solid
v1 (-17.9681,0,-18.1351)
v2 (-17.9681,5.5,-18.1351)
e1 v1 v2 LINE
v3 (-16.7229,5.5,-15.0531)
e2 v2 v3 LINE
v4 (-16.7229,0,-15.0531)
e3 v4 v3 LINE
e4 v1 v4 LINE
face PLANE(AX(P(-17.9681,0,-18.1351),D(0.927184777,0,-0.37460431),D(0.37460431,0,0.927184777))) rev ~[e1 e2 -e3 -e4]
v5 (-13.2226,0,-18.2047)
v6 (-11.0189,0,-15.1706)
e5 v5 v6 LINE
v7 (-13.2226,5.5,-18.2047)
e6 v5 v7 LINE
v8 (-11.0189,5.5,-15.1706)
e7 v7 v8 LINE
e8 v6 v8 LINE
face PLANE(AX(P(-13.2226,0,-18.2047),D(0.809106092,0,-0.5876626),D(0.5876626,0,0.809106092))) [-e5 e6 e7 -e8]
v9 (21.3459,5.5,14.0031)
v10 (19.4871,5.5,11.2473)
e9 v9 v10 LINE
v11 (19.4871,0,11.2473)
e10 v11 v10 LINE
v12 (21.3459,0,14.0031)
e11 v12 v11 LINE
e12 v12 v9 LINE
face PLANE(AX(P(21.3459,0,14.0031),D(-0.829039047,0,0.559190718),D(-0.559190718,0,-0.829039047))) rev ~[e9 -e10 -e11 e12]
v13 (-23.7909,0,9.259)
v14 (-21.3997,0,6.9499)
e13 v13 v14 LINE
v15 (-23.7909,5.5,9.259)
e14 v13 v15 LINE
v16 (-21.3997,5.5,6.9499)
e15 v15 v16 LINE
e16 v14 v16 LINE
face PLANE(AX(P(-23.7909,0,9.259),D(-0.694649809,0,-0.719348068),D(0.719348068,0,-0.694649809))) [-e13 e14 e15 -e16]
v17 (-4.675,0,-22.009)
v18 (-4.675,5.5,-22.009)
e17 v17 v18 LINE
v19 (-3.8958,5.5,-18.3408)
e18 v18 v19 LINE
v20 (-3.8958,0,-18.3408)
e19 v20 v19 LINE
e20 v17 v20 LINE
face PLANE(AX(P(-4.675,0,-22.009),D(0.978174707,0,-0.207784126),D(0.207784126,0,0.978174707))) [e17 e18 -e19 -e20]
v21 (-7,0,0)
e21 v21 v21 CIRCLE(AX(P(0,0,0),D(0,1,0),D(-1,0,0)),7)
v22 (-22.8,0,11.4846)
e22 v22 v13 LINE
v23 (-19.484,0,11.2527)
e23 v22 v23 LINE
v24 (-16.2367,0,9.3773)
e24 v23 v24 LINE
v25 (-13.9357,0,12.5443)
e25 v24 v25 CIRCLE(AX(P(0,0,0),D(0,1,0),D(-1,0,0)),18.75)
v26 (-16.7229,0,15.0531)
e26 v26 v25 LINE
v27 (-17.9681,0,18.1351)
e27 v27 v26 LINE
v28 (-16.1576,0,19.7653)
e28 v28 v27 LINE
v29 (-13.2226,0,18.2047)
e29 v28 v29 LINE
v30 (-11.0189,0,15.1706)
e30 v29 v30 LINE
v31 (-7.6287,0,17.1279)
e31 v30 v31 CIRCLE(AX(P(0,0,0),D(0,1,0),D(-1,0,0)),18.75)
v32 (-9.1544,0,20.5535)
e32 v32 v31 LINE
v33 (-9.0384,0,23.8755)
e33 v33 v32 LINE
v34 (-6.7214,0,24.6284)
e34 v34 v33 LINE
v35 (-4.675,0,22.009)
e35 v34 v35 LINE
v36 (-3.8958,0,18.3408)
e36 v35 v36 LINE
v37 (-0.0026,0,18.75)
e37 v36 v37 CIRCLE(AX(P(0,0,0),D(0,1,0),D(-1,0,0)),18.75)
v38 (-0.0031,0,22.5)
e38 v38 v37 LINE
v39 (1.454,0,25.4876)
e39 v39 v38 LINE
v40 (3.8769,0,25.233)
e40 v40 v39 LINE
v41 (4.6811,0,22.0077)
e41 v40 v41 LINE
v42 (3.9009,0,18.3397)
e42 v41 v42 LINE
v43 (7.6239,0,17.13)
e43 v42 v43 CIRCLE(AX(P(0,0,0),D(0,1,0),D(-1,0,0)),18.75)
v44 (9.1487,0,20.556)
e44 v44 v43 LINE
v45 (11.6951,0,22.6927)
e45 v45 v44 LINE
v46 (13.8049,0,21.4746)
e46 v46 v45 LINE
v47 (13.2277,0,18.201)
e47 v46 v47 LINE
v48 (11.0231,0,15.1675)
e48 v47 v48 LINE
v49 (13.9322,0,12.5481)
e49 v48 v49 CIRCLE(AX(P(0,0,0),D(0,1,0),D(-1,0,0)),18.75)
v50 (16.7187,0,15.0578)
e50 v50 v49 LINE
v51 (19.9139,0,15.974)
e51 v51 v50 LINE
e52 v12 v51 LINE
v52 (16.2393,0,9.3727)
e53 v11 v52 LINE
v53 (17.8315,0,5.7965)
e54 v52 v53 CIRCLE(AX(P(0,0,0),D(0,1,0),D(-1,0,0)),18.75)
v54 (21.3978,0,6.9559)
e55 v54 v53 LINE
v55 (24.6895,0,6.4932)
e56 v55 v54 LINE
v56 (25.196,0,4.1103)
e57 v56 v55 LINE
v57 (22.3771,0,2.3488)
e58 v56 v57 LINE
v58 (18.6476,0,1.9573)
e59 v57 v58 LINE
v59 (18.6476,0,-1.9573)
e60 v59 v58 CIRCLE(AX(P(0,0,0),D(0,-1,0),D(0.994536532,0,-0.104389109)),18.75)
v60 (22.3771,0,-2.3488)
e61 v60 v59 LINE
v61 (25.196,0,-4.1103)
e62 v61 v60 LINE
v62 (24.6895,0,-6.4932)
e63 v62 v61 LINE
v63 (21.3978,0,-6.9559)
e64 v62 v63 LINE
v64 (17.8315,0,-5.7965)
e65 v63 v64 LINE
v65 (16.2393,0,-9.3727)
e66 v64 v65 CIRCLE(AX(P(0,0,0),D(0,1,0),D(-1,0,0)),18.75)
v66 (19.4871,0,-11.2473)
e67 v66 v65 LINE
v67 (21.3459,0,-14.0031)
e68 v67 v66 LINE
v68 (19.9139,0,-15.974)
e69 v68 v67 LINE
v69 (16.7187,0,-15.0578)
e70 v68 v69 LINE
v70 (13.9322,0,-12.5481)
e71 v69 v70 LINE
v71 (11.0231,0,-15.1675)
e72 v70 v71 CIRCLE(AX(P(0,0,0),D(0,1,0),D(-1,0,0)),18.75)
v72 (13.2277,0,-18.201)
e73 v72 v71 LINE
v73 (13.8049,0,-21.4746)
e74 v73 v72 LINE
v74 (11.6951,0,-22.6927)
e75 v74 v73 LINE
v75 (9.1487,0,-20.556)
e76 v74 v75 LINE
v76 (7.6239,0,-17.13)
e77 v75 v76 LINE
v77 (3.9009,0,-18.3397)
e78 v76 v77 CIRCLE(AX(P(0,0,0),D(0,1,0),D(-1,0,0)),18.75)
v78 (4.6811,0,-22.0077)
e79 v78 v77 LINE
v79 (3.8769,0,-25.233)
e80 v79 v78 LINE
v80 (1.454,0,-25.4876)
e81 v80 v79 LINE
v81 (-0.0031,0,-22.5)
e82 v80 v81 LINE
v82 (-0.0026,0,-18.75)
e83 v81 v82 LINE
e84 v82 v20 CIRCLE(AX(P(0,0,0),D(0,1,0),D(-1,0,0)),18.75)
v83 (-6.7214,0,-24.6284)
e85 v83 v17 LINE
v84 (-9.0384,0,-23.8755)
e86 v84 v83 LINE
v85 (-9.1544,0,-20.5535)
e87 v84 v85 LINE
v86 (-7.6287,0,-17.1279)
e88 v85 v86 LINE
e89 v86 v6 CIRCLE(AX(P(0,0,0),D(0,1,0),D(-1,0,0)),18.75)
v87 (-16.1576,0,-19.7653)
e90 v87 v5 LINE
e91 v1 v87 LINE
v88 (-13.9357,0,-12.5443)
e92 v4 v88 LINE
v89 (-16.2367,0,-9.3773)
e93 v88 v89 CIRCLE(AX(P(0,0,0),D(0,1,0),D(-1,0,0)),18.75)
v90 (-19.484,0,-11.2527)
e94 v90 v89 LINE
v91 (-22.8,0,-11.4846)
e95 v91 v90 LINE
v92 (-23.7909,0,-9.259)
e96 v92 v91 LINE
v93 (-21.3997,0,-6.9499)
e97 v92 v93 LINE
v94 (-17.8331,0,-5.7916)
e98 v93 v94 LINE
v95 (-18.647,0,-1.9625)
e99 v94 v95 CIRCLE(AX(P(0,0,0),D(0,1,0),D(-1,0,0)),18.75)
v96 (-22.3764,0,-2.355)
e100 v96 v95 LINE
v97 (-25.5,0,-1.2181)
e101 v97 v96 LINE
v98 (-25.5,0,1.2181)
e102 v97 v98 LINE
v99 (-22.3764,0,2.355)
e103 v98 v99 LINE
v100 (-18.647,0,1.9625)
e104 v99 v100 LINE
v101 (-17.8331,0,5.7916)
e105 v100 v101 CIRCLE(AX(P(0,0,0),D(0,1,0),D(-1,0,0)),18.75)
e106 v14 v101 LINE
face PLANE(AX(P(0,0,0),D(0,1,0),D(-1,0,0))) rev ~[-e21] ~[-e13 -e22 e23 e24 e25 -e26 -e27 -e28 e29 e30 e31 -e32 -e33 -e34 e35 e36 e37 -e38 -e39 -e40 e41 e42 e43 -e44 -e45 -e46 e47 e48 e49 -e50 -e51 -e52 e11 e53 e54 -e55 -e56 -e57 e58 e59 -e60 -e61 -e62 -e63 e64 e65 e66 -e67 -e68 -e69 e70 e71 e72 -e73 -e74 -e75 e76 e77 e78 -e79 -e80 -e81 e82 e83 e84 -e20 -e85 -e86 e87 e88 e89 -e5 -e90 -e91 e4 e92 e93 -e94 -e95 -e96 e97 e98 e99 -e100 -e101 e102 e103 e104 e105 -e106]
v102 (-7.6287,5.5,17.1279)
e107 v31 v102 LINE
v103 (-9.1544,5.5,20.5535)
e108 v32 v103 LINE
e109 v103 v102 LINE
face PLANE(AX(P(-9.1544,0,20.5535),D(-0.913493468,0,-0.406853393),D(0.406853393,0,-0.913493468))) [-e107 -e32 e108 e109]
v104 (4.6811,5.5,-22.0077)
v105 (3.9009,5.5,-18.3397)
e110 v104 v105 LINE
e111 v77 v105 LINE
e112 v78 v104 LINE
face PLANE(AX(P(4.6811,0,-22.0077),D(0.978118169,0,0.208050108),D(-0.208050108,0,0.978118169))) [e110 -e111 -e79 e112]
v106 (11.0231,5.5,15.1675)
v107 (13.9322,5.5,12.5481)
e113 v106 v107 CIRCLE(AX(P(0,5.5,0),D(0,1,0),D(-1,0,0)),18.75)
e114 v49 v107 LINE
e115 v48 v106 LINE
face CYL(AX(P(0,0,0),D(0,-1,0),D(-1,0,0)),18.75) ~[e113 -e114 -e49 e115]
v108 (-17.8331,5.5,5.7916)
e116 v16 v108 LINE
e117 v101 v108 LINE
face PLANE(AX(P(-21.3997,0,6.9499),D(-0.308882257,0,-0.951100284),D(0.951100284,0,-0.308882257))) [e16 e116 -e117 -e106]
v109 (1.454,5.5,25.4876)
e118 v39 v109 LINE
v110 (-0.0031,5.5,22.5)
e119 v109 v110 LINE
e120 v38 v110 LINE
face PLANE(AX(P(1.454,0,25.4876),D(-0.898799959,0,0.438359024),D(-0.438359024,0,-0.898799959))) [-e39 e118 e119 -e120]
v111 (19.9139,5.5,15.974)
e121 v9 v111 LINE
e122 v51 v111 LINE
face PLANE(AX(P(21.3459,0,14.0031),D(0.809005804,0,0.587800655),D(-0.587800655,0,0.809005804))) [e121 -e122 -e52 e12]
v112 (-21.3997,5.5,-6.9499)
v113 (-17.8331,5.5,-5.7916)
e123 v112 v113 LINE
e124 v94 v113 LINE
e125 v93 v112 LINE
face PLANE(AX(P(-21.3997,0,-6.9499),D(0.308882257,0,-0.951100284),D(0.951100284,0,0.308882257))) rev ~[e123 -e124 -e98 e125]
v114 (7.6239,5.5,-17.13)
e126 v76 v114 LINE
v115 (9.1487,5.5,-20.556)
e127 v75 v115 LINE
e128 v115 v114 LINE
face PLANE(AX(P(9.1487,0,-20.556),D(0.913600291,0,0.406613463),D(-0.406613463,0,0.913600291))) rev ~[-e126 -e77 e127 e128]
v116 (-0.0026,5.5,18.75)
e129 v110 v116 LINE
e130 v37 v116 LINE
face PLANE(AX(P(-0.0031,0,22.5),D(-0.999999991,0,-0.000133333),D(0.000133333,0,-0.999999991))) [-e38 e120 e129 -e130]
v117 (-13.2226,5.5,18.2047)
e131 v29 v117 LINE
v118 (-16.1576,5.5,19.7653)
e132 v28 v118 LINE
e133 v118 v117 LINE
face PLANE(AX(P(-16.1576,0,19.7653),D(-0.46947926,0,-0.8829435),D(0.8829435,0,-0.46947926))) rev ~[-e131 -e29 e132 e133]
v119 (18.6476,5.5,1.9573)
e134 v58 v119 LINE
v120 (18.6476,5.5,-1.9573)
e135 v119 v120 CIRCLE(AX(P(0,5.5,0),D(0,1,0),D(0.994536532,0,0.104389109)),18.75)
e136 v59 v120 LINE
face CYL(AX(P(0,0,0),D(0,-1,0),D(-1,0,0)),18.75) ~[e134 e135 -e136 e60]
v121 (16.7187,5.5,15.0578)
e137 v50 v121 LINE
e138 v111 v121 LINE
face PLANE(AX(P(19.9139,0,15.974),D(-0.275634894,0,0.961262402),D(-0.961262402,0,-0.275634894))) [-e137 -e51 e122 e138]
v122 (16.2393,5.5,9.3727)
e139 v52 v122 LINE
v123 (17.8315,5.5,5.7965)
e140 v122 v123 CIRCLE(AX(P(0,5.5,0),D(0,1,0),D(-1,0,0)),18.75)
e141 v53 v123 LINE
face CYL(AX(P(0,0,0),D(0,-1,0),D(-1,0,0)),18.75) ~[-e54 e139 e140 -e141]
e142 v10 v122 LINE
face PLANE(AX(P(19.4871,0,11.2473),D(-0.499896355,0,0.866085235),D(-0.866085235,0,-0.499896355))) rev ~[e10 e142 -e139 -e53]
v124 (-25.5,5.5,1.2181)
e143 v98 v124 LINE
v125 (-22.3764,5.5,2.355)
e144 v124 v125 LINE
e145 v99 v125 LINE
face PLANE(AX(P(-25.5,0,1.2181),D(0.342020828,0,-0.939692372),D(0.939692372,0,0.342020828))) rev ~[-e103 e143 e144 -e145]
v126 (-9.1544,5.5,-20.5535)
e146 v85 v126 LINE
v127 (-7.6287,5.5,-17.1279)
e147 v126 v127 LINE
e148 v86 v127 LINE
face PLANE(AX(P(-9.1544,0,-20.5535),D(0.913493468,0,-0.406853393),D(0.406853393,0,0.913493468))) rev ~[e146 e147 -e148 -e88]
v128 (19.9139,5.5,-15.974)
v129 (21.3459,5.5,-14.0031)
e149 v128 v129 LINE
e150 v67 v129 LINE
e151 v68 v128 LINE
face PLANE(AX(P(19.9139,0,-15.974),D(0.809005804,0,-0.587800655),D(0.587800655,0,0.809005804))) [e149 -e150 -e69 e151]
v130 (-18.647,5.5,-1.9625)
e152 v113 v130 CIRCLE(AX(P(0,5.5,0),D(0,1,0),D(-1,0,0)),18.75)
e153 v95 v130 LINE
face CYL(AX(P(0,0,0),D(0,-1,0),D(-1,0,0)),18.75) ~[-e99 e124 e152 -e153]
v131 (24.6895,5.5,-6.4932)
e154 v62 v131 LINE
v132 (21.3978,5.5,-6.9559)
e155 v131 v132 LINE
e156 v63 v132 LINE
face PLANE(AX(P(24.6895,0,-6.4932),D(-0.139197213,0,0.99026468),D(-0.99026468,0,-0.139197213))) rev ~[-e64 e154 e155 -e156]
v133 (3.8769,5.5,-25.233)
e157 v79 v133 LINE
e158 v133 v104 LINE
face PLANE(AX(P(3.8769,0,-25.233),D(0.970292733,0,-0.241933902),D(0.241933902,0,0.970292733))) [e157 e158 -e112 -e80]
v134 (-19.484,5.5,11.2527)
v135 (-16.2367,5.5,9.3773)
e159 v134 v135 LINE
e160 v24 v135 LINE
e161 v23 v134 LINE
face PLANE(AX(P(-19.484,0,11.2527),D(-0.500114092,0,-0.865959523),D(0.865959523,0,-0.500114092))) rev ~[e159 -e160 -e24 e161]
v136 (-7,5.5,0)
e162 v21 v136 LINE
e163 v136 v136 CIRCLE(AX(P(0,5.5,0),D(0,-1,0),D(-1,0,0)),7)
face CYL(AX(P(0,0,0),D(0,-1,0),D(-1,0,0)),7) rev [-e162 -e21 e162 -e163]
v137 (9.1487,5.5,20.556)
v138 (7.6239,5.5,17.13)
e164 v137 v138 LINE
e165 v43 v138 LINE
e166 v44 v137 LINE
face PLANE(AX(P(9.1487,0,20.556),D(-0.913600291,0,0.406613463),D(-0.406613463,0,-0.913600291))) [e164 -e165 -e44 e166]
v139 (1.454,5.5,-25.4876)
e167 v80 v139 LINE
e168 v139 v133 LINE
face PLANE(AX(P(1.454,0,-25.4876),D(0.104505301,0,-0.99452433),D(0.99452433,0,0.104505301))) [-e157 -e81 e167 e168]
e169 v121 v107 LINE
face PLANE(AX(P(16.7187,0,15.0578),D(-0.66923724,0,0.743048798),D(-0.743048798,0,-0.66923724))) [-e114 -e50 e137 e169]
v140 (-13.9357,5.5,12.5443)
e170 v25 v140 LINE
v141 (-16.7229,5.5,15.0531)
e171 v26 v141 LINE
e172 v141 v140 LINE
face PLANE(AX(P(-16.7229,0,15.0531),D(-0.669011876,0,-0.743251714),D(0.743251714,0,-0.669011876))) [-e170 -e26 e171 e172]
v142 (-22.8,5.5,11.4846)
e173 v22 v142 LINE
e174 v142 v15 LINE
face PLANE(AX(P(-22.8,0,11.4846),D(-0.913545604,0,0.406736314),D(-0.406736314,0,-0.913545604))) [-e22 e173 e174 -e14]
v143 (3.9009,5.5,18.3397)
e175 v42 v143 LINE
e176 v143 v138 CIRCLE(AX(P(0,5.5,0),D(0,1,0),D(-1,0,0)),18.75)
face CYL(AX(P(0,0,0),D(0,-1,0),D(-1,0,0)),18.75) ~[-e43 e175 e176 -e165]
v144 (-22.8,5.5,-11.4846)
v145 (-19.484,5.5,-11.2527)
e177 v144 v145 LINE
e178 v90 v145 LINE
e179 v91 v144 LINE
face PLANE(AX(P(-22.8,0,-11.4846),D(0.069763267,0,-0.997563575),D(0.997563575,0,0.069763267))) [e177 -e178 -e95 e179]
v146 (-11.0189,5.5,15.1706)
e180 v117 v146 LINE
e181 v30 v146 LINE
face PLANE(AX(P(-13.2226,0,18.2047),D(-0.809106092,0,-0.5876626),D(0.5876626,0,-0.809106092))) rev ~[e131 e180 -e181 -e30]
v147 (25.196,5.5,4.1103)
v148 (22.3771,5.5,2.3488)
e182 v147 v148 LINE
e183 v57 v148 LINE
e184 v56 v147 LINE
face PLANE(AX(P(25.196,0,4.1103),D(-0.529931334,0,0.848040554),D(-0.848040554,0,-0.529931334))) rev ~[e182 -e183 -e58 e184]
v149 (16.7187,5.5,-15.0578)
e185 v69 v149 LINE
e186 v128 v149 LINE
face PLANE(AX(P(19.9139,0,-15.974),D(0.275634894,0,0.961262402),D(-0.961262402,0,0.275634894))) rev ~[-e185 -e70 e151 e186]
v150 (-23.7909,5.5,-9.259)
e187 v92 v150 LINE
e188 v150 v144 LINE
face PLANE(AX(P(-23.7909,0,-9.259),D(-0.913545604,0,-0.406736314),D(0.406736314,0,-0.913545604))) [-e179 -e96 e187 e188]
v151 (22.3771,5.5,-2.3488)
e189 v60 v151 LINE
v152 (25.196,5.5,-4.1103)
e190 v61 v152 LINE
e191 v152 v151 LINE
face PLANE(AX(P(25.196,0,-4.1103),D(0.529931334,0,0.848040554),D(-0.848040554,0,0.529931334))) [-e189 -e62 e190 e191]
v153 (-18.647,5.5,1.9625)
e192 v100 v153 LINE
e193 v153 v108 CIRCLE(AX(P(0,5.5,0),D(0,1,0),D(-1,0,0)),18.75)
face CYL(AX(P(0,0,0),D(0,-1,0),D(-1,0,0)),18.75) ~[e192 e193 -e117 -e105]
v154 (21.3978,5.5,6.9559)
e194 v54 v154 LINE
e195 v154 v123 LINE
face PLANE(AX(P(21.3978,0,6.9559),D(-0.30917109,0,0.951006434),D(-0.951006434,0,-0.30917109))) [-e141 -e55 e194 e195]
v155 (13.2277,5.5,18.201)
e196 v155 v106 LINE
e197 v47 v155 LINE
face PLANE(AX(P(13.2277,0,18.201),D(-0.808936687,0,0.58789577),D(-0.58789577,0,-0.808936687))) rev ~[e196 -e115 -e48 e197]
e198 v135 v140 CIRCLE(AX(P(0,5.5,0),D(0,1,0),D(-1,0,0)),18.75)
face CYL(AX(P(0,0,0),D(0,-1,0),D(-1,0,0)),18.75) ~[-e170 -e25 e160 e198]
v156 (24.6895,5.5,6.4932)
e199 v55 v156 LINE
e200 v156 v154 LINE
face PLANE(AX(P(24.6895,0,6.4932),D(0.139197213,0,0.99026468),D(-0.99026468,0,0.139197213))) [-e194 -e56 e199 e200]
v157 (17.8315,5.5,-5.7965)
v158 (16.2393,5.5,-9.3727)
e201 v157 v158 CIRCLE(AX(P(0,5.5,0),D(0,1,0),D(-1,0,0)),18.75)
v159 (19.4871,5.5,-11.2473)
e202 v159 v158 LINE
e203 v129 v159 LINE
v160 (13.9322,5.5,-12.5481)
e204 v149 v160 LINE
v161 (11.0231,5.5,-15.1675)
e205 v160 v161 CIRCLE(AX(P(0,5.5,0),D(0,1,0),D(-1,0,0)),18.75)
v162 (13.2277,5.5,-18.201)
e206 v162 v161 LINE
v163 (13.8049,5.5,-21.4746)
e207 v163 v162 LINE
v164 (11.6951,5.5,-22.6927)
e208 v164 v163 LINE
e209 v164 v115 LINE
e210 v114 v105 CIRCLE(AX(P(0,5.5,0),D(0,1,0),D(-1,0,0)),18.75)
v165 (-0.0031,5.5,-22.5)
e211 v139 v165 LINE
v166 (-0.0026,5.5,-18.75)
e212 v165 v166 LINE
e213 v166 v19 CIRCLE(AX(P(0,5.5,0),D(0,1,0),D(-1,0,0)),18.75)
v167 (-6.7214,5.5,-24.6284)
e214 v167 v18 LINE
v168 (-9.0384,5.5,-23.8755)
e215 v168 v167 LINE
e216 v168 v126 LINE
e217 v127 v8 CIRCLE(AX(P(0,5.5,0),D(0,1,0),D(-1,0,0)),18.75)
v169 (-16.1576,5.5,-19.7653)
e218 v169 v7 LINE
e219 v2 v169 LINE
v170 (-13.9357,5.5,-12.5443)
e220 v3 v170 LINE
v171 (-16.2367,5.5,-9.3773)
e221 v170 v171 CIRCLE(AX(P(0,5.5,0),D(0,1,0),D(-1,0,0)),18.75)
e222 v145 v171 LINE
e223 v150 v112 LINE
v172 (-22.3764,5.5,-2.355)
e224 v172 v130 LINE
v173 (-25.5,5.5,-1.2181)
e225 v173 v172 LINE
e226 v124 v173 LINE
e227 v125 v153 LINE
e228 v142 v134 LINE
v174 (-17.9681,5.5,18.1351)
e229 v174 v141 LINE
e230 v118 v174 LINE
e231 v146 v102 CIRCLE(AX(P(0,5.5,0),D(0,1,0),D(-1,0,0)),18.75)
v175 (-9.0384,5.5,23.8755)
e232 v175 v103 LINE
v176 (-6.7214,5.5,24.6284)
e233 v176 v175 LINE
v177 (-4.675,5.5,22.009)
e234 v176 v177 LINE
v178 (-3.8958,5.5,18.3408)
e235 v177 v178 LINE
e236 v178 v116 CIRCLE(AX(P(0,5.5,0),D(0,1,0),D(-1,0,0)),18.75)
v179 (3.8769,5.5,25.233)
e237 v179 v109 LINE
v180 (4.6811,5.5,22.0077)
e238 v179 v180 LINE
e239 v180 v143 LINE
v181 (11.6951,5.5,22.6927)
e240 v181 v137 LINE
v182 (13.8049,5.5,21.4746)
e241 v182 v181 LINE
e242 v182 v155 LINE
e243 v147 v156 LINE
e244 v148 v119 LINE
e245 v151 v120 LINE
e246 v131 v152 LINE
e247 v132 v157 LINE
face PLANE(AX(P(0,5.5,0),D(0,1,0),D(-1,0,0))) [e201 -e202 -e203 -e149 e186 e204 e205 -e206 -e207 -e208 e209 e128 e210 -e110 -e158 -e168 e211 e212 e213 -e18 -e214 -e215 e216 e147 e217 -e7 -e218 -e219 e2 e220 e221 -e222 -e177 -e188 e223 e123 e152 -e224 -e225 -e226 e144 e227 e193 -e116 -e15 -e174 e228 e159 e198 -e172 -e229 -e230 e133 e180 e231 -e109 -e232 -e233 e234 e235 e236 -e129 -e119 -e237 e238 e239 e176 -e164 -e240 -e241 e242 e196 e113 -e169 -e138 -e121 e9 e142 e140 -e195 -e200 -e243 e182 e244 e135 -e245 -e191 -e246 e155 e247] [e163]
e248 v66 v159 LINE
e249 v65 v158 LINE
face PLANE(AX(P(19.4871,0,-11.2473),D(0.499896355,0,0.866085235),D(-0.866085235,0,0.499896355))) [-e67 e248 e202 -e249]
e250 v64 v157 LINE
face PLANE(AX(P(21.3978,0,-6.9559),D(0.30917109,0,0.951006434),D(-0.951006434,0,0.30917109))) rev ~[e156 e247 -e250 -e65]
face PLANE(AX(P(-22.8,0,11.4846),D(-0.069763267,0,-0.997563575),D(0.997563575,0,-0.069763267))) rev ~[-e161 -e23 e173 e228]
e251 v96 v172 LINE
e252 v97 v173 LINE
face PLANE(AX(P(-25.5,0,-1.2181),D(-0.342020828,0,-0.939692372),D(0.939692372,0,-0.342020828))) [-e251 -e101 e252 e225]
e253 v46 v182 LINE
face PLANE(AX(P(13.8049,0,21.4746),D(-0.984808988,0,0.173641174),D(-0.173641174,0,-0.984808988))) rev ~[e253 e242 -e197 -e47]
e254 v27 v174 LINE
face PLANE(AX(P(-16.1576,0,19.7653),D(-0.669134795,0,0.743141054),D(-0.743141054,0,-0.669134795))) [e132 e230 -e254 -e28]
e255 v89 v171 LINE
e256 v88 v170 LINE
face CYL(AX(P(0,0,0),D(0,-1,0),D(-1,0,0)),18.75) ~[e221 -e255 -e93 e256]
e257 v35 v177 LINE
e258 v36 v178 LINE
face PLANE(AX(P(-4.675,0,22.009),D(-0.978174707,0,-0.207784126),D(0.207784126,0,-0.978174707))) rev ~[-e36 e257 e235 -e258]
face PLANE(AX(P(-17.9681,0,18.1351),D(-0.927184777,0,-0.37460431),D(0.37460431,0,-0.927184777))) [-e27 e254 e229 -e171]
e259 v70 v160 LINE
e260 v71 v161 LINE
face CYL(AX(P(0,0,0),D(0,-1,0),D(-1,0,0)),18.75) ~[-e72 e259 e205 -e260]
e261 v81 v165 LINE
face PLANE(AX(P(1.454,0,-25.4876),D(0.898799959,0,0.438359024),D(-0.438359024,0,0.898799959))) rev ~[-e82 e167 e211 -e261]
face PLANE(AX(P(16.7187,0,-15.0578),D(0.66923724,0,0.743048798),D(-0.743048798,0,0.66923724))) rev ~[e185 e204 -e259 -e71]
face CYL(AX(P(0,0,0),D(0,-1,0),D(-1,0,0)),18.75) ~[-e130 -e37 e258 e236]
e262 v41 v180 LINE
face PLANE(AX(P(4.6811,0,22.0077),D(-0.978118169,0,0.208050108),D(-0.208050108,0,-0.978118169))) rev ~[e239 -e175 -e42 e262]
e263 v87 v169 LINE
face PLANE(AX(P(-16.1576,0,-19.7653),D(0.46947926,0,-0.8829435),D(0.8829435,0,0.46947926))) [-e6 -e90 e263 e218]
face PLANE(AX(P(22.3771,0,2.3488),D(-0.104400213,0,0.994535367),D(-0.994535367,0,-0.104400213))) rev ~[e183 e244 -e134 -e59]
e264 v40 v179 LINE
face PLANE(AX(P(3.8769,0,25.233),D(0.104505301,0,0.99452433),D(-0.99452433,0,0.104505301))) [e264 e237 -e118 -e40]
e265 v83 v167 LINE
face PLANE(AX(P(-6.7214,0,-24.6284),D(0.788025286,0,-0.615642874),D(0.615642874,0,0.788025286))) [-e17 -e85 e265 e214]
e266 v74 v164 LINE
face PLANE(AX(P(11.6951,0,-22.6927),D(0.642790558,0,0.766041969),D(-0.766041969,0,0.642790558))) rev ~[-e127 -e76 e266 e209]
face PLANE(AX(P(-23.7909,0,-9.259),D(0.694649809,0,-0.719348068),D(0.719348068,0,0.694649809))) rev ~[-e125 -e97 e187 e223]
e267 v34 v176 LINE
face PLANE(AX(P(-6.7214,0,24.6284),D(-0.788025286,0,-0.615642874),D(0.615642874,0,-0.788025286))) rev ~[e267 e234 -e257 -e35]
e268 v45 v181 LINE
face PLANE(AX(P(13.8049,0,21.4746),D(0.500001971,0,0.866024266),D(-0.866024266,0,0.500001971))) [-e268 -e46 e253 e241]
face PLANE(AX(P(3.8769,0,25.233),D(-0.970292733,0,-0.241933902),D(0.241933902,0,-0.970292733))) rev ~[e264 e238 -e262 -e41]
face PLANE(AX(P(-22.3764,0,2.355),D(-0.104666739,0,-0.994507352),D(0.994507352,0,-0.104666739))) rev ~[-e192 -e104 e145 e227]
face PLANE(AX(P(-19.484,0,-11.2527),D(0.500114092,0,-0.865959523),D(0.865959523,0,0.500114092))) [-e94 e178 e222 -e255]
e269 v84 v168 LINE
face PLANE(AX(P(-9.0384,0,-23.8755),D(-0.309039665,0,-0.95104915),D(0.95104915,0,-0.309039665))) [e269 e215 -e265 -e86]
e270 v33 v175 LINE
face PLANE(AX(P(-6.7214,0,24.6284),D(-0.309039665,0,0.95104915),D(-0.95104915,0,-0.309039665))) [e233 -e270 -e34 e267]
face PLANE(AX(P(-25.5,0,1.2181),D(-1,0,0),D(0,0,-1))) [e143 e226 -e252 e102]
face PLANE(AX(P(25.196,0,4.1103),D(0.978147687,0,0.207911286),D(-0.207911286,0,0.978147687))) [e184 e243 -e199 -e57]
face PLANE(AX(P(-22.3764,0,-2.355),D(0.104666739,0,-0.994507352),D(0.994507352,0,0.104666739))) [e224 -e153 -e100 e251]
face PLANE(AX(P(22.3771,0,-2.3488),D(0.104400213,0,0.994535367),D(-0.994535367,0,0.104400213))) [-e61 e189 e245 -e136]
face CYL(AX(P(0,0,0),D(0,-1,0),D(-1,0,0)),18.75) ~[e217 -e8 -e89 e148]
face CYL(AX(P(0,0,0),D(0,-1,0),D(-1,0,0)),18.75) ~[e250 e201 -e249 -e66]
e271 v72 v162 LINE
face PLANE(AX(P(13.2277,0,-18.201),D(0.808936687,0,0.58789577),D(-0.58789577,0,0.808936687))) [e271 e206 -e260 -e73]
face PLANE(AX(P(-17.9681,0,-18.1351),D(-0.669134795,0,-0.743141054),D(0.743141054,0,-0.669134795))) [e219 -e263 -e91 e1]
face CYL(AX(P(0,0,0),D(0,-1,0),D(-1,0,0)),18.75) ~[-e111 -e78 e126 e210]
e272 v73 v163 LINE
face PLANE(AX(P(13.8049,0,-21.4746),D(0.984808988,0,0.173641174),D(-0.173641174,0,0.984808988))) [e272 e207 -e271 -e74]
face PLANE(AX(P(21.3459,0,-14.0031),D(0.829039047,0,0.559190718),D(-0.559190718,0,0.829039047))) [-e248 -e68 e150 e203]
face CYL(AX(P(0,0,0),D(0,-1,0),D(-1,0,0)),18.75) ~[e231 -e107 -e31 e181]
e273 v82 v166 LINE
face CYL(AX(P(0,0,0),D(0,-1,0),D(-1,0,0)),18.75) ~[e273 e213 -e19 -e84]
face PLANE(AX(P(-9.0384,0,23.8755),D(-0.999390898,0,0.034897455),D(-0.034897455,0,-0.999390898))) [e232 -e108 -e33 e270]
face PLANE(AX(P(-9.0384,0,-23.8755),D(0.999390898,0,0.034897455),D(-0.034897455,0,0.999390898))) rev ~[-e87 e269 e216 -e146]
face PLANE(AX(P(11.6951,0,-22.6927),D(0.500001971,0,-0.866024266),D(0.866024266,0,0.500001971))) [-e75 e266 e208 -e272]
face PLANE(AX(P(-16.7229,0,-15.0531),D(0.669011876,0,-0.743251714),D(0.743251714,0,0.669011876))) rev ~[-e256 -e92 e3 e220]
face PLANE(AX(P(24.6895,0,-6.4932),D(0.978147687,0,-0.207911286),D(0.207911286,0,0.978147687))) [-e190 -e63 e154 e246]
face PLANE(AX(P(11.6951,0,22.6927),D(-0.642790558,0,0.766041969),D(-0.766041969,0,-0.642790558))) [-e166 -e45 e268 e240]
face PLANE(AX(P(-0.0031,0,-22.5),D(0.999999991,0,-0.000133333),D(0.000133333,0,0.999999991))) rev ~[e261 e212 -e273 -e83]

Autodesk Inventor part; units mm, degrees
ref_plane "YZ Plane" through (0, 0, 0) normal (1, 0, 0) x (0, 1, 0)
ref_plane "XZ Plane" through (0, 0, 0) normal (0, 1, 0) x (-1, 0, 0)
ref_plane "XY Plane" through (0, 0, 0) normal (0, 0, 1) x (1, 0, 0)
sketch "スケッチ1" plane through (0, 0, 0) normal (0, 1, 0) x (-1, 0, 0)
  circle A0 centre (0, 0) radius 22.5 construction
  circle A1 centre (0, 0) radius 25.5 construction
  line L0 (25.5, 1.2181) -> (25.5, -1.2181)
  line L1 (25.5, 1.2181) -> (22.3764, 2.355)
  line L2 (25.5, -1.2181) -> (22.3764, -2.355)
  line L3 (35.7, 0) -> (-35.7, 0) projected
  circle A2 centre (0, 0) radius 18.75
  line L4 (22.3764, -2.355) -> (18.647, -1.9625)
  line L5 (22.3764, 2.355) -> (18.647, 1.9625)
  line L6 (19.484, 11.2527) -> (16.2367, 9.3773)
  line L7 (22.8, 11.4846) -> (19.484, 11.2527)
  line L8 (22.8, 11.4846) -> (23.7909, 9.259)
  line L9 (23.7909, 9.259) -> (21.3997, 6.9499)
  line L10 (21.3997, 6.9499) -> (17.8331, 5.7916)
  line L11 (13.2226, 18.2047) -> (11.0189, 15.1706)
  line L12 (16.1576, 19.7653) -> (13.2226, 18.2047)
  line L13 (16.1576, 19.7653) -> (17.9681, 18.1351)
  line L14 (17.9681, 18.1351) -> (16.7229, 15.0531)
  line L15 (16.7229, 15.0531) -> (13.9357, 12.5443)
  line L16 (4.675, 22.009) -> (3.8958, 18.3408)
  line L17 (6.7214, 24.6284) -> (4.675, 22.009)
  line L18 (6.7214, 24.6284) -> (9.0384, 23.8755)
  line L19 (9.0384, 23.8755) -> (9.1544, 20.5535)
  line L20 (9.1544, 20.5535) -> (7.6287, 17.1279)
  line L21 (-4.6811, 22.0077) -> (-3.9009, 18.3397)
  line L22 (-3.8769, 25.233) -> (-4.6811, 22.0077)
  line L23 (-3.8769, 25.233) -> (-1.454, 25.4876)
  line L24 (-1.454, 25.4876) -> (0.0031, 22.5)
  line L25 (0.0031, 22.5) -> (0.0026, 18.75)
  line L26 (-13.2277, 18.201) -> (-11.0231, 15.1675)
  line L27 (-13.8049, 21.4746) -> (-13.2277, 18.201)
  line L28 (-13.8049, 21.4746) -> (-11.6951, 22.6927)
  line L29 (-11.6951, 22.6927) -> (-9.1487, 20.556)
  line L30 (-9.1487, 20.556) -> (-7.6239, 17.13)
  line L31 (-19.4871, 11.2473) -> (-16.2393, 9.3727)
  line L32 (-21.3459, 14.0031) -> (-19.4871, 11.2473)
  line L33 (-21.3459, 14.0031) -> (-19.9139, 15.974)
  line L34 (-19.9139, 15.974) -> (-16.7187, 15.0578)
  line L35 (-16.7187, 15.0578) -> (-13.9322, 12.5481)
  line L36 (-22.3771, 2.3488) -> (-18.6476, 1.9573)
  line L37 (-25.196, 4.1103) -> (-22.3771, 2.3488)
  line L38 (-25.196, 4.1103) -> (-24.6895, 6.4932)
  line L39 (-24.6895, 6.4932) -> (-21.3978, 6.9559)
  line L40 (-21.3978, 6.9559) -> (-17.8315, 5.7965)
  line L41 (-21.3978, -6.9559) -> (-17.8315, -5.7965)
  line L42 (-24.6895, -6.4932) -> (-21.3978, -6.9559)
  line L43 (-24.6895, -6.4932) -> (-25.196, -4.1103)
  line L44 (-25.196, -4.1103) -> (-22.3771, -2.3488)
  line L45 (-22.3771, -2.3488) -> (-18.6476, -1.9573)
  line L46 (-16.7187, -15.0578) -> (-13.9322, -12.5481)
  line L47 (-19.9139, -15.974) -> (-16.7187, -15.0578)
  line L48 (-19.9139, -15.974) -> (-21.3459, -14.0031)
  line L49 (-21.3459, -14.0031) -> (-19.4871, -11.2473)
  line L50 (-19.4871, -11.2473) -> (-16.2393, -9.3727)
  line L51 (-9.1487, -20.556) -> (-7.6239, -17.13)
  line L52 (-11.6951, -22.6927) -> (-9.1487, -20.556)
  line L53 (-11.6951, -22.6927) -> (-13.8049, -21.4746)
  line L54 (-13.8049, -21.4746) -> (-13.2277, -18.201)
  line L55 (-13.2277, -18.201) -> (-11.0231, -15.1675)
  line L56 (0.0031, -22.5) -> (0.0026, -18.75)
  line L57 (-1.454, -25.4876) -> (0.0031, -22.5)
  line L58 (-1.454, -25.4876) -> (-3.8769, -25.233)
  line L59 (-3.8769, -25.233) -> (-4.6811, -22.0077)
  line L60 (-4.6811, -22.0077) -> (-3.9009, -18.3397)
  line L61 (9.1544, -20.5535) -> (7.6287, -17.1279)
  line L62 (9.0384, -23.8755) -> (9.1544, -20.5535)
  line L63 (9.0384, -23.8755) -> (6.7214, -24.6284)
  line L64 (6.7214, -24.6284) -> (4.675, -22.009)
  line L65 (4.675, -22.009) -> (3.8958, -18.3408)
  line L66 (16.7229, -15.0531) -> (13.9357, -12.5443)
  line L67 (17.9681, -18.1351) -> (16.7229, -15.0531)
  line L68 (17.9681, -18.1351) -> (16.1576, -19.7653)
  line L69 (16.1576, -19.7653) -> (13.2226, -18.2047)
  line L70 (13.2226, -18.2047) -> (11.0189, -15.1706)
  line L71 (21.3997, -6.9499) -> (17.8331, -5.7916)
  line L72 (23.7909, -9.259) -> (21.3997, -6.9499)
  line L73 (23.7909, -9.259) -> (22.8, -11.4846)
  line L74 (22.8, -11.4846) -> (19.484, -11.2527)
  line L75 (19.484, -11.2527) -> (16.2367, -9.3773)
  circle A3 centre (0, 0) radius 7
  point P0 (25.5, 0)
  point P1 (23.2954, 10.3718)
  point P2 (17.0628, 18.9502)
  point P3 (7.8799, 24.2519)
  point P4 (-2.6655, 25.3603)
  point P5 (-12.75, 22.0836)
  point P6 (-20.6299, 14.9885)
  point P7 (-24.9428, 5.3017)
  point P8 (-24.9428, -5.3017)
  point P9 (-20.6299, -14.9885)
  point P10 (-12.75, -22.0836)
  point P11 (-2.6655, -25.3603)
  point P12 (7.8799, -24.2519)
  point P13 (17.0628, -18.9502)
  point P14 (23.2954, -10.3718)
  point P15 (17.8331, 5.7916)
  point P16 (16.2367, 9.3773)
  point P17 (13.9357, 12.5443)
  point P18 (11.0189, 15.1706)
  point P19 (7.6287, 17.1279)
  point P20 (3.8958, 18.3408)
  point P21 (0.0026, 18.75)
  point P22 (-3.9009, 18.3397)
  point P23 (-7.6239, 17.13)
  point P24 (-11.0231, 15.1675)
  point P25 (-13.9322, 12.5481)
  point P26 (-16.2393, 9.3727)
  point P27 (-17.8315, 5.7965)
  point P28 (-18.6476, 1.9573)
  point P29 (-18.6476, -1.9573)
  point P30 (-17.8315, -5.7965)
  point P31 (-16.2393, -9.3727)
  point P32 (-13.9322, -12.5481)
  point P33 (-11.0231, -15.1675)
  point P34 (-7.6239, -17.13)
  point P35 (-3.9009, -18.3397)
  point P36 (0.0026, -18.75)
  point P37 (3.8958, -18.3408)
  point P38 (7.6287, -17.1279)
  point P39 (11.0189, -15.1706)
  point P40 (13.9357, -12.5443)
  point P41 (16.2367, -9.3773)
  point P42 (17.8331, -5.7916)
  dimension "d5" = 37.5
  dimension "d0" = 45
  dimension "d1" = 51
  dimension "d3" = 20
  dimension "d4" = 20
  dimension "d14" = 4.71
  dimension "d18" = 360
  dimension "d23" = 14
extrude "押し出し1" add sketch "スケッチ1" along normal blind 5.5 contours L0 L3 A2 L5 L1 | L0 L2 L4 A2 L3 | A2 L3 A3 | L3 A3 A2 | A2 L6 L7 L8 L9 L10 | L71 L72 L73 L74 L75 A2 | A2 L11 L12 L13 L14 L15 | L36 L37 L38 L39 L40 A2 | A2 L41 L42 L43 L44 L45 | L66 L67 L68 L69 L70 A2 | A2 L16 L17 L18 L19 L20 | L31 L32 L33 L34 L35 A2 | A2 L46 L47 L48 L49 L50 | L61 L62 L63 L64 L65 A2 | A2 L21 L22 L23 L24 L25 | L26 L27 L28 L29 L30 A2 | A2 L51 L52 L53 L54 L55 | L56 L57 L58 L59 L60 A2
properties part number "M3_15_hole_small" material "木材 (カエデ材)"
